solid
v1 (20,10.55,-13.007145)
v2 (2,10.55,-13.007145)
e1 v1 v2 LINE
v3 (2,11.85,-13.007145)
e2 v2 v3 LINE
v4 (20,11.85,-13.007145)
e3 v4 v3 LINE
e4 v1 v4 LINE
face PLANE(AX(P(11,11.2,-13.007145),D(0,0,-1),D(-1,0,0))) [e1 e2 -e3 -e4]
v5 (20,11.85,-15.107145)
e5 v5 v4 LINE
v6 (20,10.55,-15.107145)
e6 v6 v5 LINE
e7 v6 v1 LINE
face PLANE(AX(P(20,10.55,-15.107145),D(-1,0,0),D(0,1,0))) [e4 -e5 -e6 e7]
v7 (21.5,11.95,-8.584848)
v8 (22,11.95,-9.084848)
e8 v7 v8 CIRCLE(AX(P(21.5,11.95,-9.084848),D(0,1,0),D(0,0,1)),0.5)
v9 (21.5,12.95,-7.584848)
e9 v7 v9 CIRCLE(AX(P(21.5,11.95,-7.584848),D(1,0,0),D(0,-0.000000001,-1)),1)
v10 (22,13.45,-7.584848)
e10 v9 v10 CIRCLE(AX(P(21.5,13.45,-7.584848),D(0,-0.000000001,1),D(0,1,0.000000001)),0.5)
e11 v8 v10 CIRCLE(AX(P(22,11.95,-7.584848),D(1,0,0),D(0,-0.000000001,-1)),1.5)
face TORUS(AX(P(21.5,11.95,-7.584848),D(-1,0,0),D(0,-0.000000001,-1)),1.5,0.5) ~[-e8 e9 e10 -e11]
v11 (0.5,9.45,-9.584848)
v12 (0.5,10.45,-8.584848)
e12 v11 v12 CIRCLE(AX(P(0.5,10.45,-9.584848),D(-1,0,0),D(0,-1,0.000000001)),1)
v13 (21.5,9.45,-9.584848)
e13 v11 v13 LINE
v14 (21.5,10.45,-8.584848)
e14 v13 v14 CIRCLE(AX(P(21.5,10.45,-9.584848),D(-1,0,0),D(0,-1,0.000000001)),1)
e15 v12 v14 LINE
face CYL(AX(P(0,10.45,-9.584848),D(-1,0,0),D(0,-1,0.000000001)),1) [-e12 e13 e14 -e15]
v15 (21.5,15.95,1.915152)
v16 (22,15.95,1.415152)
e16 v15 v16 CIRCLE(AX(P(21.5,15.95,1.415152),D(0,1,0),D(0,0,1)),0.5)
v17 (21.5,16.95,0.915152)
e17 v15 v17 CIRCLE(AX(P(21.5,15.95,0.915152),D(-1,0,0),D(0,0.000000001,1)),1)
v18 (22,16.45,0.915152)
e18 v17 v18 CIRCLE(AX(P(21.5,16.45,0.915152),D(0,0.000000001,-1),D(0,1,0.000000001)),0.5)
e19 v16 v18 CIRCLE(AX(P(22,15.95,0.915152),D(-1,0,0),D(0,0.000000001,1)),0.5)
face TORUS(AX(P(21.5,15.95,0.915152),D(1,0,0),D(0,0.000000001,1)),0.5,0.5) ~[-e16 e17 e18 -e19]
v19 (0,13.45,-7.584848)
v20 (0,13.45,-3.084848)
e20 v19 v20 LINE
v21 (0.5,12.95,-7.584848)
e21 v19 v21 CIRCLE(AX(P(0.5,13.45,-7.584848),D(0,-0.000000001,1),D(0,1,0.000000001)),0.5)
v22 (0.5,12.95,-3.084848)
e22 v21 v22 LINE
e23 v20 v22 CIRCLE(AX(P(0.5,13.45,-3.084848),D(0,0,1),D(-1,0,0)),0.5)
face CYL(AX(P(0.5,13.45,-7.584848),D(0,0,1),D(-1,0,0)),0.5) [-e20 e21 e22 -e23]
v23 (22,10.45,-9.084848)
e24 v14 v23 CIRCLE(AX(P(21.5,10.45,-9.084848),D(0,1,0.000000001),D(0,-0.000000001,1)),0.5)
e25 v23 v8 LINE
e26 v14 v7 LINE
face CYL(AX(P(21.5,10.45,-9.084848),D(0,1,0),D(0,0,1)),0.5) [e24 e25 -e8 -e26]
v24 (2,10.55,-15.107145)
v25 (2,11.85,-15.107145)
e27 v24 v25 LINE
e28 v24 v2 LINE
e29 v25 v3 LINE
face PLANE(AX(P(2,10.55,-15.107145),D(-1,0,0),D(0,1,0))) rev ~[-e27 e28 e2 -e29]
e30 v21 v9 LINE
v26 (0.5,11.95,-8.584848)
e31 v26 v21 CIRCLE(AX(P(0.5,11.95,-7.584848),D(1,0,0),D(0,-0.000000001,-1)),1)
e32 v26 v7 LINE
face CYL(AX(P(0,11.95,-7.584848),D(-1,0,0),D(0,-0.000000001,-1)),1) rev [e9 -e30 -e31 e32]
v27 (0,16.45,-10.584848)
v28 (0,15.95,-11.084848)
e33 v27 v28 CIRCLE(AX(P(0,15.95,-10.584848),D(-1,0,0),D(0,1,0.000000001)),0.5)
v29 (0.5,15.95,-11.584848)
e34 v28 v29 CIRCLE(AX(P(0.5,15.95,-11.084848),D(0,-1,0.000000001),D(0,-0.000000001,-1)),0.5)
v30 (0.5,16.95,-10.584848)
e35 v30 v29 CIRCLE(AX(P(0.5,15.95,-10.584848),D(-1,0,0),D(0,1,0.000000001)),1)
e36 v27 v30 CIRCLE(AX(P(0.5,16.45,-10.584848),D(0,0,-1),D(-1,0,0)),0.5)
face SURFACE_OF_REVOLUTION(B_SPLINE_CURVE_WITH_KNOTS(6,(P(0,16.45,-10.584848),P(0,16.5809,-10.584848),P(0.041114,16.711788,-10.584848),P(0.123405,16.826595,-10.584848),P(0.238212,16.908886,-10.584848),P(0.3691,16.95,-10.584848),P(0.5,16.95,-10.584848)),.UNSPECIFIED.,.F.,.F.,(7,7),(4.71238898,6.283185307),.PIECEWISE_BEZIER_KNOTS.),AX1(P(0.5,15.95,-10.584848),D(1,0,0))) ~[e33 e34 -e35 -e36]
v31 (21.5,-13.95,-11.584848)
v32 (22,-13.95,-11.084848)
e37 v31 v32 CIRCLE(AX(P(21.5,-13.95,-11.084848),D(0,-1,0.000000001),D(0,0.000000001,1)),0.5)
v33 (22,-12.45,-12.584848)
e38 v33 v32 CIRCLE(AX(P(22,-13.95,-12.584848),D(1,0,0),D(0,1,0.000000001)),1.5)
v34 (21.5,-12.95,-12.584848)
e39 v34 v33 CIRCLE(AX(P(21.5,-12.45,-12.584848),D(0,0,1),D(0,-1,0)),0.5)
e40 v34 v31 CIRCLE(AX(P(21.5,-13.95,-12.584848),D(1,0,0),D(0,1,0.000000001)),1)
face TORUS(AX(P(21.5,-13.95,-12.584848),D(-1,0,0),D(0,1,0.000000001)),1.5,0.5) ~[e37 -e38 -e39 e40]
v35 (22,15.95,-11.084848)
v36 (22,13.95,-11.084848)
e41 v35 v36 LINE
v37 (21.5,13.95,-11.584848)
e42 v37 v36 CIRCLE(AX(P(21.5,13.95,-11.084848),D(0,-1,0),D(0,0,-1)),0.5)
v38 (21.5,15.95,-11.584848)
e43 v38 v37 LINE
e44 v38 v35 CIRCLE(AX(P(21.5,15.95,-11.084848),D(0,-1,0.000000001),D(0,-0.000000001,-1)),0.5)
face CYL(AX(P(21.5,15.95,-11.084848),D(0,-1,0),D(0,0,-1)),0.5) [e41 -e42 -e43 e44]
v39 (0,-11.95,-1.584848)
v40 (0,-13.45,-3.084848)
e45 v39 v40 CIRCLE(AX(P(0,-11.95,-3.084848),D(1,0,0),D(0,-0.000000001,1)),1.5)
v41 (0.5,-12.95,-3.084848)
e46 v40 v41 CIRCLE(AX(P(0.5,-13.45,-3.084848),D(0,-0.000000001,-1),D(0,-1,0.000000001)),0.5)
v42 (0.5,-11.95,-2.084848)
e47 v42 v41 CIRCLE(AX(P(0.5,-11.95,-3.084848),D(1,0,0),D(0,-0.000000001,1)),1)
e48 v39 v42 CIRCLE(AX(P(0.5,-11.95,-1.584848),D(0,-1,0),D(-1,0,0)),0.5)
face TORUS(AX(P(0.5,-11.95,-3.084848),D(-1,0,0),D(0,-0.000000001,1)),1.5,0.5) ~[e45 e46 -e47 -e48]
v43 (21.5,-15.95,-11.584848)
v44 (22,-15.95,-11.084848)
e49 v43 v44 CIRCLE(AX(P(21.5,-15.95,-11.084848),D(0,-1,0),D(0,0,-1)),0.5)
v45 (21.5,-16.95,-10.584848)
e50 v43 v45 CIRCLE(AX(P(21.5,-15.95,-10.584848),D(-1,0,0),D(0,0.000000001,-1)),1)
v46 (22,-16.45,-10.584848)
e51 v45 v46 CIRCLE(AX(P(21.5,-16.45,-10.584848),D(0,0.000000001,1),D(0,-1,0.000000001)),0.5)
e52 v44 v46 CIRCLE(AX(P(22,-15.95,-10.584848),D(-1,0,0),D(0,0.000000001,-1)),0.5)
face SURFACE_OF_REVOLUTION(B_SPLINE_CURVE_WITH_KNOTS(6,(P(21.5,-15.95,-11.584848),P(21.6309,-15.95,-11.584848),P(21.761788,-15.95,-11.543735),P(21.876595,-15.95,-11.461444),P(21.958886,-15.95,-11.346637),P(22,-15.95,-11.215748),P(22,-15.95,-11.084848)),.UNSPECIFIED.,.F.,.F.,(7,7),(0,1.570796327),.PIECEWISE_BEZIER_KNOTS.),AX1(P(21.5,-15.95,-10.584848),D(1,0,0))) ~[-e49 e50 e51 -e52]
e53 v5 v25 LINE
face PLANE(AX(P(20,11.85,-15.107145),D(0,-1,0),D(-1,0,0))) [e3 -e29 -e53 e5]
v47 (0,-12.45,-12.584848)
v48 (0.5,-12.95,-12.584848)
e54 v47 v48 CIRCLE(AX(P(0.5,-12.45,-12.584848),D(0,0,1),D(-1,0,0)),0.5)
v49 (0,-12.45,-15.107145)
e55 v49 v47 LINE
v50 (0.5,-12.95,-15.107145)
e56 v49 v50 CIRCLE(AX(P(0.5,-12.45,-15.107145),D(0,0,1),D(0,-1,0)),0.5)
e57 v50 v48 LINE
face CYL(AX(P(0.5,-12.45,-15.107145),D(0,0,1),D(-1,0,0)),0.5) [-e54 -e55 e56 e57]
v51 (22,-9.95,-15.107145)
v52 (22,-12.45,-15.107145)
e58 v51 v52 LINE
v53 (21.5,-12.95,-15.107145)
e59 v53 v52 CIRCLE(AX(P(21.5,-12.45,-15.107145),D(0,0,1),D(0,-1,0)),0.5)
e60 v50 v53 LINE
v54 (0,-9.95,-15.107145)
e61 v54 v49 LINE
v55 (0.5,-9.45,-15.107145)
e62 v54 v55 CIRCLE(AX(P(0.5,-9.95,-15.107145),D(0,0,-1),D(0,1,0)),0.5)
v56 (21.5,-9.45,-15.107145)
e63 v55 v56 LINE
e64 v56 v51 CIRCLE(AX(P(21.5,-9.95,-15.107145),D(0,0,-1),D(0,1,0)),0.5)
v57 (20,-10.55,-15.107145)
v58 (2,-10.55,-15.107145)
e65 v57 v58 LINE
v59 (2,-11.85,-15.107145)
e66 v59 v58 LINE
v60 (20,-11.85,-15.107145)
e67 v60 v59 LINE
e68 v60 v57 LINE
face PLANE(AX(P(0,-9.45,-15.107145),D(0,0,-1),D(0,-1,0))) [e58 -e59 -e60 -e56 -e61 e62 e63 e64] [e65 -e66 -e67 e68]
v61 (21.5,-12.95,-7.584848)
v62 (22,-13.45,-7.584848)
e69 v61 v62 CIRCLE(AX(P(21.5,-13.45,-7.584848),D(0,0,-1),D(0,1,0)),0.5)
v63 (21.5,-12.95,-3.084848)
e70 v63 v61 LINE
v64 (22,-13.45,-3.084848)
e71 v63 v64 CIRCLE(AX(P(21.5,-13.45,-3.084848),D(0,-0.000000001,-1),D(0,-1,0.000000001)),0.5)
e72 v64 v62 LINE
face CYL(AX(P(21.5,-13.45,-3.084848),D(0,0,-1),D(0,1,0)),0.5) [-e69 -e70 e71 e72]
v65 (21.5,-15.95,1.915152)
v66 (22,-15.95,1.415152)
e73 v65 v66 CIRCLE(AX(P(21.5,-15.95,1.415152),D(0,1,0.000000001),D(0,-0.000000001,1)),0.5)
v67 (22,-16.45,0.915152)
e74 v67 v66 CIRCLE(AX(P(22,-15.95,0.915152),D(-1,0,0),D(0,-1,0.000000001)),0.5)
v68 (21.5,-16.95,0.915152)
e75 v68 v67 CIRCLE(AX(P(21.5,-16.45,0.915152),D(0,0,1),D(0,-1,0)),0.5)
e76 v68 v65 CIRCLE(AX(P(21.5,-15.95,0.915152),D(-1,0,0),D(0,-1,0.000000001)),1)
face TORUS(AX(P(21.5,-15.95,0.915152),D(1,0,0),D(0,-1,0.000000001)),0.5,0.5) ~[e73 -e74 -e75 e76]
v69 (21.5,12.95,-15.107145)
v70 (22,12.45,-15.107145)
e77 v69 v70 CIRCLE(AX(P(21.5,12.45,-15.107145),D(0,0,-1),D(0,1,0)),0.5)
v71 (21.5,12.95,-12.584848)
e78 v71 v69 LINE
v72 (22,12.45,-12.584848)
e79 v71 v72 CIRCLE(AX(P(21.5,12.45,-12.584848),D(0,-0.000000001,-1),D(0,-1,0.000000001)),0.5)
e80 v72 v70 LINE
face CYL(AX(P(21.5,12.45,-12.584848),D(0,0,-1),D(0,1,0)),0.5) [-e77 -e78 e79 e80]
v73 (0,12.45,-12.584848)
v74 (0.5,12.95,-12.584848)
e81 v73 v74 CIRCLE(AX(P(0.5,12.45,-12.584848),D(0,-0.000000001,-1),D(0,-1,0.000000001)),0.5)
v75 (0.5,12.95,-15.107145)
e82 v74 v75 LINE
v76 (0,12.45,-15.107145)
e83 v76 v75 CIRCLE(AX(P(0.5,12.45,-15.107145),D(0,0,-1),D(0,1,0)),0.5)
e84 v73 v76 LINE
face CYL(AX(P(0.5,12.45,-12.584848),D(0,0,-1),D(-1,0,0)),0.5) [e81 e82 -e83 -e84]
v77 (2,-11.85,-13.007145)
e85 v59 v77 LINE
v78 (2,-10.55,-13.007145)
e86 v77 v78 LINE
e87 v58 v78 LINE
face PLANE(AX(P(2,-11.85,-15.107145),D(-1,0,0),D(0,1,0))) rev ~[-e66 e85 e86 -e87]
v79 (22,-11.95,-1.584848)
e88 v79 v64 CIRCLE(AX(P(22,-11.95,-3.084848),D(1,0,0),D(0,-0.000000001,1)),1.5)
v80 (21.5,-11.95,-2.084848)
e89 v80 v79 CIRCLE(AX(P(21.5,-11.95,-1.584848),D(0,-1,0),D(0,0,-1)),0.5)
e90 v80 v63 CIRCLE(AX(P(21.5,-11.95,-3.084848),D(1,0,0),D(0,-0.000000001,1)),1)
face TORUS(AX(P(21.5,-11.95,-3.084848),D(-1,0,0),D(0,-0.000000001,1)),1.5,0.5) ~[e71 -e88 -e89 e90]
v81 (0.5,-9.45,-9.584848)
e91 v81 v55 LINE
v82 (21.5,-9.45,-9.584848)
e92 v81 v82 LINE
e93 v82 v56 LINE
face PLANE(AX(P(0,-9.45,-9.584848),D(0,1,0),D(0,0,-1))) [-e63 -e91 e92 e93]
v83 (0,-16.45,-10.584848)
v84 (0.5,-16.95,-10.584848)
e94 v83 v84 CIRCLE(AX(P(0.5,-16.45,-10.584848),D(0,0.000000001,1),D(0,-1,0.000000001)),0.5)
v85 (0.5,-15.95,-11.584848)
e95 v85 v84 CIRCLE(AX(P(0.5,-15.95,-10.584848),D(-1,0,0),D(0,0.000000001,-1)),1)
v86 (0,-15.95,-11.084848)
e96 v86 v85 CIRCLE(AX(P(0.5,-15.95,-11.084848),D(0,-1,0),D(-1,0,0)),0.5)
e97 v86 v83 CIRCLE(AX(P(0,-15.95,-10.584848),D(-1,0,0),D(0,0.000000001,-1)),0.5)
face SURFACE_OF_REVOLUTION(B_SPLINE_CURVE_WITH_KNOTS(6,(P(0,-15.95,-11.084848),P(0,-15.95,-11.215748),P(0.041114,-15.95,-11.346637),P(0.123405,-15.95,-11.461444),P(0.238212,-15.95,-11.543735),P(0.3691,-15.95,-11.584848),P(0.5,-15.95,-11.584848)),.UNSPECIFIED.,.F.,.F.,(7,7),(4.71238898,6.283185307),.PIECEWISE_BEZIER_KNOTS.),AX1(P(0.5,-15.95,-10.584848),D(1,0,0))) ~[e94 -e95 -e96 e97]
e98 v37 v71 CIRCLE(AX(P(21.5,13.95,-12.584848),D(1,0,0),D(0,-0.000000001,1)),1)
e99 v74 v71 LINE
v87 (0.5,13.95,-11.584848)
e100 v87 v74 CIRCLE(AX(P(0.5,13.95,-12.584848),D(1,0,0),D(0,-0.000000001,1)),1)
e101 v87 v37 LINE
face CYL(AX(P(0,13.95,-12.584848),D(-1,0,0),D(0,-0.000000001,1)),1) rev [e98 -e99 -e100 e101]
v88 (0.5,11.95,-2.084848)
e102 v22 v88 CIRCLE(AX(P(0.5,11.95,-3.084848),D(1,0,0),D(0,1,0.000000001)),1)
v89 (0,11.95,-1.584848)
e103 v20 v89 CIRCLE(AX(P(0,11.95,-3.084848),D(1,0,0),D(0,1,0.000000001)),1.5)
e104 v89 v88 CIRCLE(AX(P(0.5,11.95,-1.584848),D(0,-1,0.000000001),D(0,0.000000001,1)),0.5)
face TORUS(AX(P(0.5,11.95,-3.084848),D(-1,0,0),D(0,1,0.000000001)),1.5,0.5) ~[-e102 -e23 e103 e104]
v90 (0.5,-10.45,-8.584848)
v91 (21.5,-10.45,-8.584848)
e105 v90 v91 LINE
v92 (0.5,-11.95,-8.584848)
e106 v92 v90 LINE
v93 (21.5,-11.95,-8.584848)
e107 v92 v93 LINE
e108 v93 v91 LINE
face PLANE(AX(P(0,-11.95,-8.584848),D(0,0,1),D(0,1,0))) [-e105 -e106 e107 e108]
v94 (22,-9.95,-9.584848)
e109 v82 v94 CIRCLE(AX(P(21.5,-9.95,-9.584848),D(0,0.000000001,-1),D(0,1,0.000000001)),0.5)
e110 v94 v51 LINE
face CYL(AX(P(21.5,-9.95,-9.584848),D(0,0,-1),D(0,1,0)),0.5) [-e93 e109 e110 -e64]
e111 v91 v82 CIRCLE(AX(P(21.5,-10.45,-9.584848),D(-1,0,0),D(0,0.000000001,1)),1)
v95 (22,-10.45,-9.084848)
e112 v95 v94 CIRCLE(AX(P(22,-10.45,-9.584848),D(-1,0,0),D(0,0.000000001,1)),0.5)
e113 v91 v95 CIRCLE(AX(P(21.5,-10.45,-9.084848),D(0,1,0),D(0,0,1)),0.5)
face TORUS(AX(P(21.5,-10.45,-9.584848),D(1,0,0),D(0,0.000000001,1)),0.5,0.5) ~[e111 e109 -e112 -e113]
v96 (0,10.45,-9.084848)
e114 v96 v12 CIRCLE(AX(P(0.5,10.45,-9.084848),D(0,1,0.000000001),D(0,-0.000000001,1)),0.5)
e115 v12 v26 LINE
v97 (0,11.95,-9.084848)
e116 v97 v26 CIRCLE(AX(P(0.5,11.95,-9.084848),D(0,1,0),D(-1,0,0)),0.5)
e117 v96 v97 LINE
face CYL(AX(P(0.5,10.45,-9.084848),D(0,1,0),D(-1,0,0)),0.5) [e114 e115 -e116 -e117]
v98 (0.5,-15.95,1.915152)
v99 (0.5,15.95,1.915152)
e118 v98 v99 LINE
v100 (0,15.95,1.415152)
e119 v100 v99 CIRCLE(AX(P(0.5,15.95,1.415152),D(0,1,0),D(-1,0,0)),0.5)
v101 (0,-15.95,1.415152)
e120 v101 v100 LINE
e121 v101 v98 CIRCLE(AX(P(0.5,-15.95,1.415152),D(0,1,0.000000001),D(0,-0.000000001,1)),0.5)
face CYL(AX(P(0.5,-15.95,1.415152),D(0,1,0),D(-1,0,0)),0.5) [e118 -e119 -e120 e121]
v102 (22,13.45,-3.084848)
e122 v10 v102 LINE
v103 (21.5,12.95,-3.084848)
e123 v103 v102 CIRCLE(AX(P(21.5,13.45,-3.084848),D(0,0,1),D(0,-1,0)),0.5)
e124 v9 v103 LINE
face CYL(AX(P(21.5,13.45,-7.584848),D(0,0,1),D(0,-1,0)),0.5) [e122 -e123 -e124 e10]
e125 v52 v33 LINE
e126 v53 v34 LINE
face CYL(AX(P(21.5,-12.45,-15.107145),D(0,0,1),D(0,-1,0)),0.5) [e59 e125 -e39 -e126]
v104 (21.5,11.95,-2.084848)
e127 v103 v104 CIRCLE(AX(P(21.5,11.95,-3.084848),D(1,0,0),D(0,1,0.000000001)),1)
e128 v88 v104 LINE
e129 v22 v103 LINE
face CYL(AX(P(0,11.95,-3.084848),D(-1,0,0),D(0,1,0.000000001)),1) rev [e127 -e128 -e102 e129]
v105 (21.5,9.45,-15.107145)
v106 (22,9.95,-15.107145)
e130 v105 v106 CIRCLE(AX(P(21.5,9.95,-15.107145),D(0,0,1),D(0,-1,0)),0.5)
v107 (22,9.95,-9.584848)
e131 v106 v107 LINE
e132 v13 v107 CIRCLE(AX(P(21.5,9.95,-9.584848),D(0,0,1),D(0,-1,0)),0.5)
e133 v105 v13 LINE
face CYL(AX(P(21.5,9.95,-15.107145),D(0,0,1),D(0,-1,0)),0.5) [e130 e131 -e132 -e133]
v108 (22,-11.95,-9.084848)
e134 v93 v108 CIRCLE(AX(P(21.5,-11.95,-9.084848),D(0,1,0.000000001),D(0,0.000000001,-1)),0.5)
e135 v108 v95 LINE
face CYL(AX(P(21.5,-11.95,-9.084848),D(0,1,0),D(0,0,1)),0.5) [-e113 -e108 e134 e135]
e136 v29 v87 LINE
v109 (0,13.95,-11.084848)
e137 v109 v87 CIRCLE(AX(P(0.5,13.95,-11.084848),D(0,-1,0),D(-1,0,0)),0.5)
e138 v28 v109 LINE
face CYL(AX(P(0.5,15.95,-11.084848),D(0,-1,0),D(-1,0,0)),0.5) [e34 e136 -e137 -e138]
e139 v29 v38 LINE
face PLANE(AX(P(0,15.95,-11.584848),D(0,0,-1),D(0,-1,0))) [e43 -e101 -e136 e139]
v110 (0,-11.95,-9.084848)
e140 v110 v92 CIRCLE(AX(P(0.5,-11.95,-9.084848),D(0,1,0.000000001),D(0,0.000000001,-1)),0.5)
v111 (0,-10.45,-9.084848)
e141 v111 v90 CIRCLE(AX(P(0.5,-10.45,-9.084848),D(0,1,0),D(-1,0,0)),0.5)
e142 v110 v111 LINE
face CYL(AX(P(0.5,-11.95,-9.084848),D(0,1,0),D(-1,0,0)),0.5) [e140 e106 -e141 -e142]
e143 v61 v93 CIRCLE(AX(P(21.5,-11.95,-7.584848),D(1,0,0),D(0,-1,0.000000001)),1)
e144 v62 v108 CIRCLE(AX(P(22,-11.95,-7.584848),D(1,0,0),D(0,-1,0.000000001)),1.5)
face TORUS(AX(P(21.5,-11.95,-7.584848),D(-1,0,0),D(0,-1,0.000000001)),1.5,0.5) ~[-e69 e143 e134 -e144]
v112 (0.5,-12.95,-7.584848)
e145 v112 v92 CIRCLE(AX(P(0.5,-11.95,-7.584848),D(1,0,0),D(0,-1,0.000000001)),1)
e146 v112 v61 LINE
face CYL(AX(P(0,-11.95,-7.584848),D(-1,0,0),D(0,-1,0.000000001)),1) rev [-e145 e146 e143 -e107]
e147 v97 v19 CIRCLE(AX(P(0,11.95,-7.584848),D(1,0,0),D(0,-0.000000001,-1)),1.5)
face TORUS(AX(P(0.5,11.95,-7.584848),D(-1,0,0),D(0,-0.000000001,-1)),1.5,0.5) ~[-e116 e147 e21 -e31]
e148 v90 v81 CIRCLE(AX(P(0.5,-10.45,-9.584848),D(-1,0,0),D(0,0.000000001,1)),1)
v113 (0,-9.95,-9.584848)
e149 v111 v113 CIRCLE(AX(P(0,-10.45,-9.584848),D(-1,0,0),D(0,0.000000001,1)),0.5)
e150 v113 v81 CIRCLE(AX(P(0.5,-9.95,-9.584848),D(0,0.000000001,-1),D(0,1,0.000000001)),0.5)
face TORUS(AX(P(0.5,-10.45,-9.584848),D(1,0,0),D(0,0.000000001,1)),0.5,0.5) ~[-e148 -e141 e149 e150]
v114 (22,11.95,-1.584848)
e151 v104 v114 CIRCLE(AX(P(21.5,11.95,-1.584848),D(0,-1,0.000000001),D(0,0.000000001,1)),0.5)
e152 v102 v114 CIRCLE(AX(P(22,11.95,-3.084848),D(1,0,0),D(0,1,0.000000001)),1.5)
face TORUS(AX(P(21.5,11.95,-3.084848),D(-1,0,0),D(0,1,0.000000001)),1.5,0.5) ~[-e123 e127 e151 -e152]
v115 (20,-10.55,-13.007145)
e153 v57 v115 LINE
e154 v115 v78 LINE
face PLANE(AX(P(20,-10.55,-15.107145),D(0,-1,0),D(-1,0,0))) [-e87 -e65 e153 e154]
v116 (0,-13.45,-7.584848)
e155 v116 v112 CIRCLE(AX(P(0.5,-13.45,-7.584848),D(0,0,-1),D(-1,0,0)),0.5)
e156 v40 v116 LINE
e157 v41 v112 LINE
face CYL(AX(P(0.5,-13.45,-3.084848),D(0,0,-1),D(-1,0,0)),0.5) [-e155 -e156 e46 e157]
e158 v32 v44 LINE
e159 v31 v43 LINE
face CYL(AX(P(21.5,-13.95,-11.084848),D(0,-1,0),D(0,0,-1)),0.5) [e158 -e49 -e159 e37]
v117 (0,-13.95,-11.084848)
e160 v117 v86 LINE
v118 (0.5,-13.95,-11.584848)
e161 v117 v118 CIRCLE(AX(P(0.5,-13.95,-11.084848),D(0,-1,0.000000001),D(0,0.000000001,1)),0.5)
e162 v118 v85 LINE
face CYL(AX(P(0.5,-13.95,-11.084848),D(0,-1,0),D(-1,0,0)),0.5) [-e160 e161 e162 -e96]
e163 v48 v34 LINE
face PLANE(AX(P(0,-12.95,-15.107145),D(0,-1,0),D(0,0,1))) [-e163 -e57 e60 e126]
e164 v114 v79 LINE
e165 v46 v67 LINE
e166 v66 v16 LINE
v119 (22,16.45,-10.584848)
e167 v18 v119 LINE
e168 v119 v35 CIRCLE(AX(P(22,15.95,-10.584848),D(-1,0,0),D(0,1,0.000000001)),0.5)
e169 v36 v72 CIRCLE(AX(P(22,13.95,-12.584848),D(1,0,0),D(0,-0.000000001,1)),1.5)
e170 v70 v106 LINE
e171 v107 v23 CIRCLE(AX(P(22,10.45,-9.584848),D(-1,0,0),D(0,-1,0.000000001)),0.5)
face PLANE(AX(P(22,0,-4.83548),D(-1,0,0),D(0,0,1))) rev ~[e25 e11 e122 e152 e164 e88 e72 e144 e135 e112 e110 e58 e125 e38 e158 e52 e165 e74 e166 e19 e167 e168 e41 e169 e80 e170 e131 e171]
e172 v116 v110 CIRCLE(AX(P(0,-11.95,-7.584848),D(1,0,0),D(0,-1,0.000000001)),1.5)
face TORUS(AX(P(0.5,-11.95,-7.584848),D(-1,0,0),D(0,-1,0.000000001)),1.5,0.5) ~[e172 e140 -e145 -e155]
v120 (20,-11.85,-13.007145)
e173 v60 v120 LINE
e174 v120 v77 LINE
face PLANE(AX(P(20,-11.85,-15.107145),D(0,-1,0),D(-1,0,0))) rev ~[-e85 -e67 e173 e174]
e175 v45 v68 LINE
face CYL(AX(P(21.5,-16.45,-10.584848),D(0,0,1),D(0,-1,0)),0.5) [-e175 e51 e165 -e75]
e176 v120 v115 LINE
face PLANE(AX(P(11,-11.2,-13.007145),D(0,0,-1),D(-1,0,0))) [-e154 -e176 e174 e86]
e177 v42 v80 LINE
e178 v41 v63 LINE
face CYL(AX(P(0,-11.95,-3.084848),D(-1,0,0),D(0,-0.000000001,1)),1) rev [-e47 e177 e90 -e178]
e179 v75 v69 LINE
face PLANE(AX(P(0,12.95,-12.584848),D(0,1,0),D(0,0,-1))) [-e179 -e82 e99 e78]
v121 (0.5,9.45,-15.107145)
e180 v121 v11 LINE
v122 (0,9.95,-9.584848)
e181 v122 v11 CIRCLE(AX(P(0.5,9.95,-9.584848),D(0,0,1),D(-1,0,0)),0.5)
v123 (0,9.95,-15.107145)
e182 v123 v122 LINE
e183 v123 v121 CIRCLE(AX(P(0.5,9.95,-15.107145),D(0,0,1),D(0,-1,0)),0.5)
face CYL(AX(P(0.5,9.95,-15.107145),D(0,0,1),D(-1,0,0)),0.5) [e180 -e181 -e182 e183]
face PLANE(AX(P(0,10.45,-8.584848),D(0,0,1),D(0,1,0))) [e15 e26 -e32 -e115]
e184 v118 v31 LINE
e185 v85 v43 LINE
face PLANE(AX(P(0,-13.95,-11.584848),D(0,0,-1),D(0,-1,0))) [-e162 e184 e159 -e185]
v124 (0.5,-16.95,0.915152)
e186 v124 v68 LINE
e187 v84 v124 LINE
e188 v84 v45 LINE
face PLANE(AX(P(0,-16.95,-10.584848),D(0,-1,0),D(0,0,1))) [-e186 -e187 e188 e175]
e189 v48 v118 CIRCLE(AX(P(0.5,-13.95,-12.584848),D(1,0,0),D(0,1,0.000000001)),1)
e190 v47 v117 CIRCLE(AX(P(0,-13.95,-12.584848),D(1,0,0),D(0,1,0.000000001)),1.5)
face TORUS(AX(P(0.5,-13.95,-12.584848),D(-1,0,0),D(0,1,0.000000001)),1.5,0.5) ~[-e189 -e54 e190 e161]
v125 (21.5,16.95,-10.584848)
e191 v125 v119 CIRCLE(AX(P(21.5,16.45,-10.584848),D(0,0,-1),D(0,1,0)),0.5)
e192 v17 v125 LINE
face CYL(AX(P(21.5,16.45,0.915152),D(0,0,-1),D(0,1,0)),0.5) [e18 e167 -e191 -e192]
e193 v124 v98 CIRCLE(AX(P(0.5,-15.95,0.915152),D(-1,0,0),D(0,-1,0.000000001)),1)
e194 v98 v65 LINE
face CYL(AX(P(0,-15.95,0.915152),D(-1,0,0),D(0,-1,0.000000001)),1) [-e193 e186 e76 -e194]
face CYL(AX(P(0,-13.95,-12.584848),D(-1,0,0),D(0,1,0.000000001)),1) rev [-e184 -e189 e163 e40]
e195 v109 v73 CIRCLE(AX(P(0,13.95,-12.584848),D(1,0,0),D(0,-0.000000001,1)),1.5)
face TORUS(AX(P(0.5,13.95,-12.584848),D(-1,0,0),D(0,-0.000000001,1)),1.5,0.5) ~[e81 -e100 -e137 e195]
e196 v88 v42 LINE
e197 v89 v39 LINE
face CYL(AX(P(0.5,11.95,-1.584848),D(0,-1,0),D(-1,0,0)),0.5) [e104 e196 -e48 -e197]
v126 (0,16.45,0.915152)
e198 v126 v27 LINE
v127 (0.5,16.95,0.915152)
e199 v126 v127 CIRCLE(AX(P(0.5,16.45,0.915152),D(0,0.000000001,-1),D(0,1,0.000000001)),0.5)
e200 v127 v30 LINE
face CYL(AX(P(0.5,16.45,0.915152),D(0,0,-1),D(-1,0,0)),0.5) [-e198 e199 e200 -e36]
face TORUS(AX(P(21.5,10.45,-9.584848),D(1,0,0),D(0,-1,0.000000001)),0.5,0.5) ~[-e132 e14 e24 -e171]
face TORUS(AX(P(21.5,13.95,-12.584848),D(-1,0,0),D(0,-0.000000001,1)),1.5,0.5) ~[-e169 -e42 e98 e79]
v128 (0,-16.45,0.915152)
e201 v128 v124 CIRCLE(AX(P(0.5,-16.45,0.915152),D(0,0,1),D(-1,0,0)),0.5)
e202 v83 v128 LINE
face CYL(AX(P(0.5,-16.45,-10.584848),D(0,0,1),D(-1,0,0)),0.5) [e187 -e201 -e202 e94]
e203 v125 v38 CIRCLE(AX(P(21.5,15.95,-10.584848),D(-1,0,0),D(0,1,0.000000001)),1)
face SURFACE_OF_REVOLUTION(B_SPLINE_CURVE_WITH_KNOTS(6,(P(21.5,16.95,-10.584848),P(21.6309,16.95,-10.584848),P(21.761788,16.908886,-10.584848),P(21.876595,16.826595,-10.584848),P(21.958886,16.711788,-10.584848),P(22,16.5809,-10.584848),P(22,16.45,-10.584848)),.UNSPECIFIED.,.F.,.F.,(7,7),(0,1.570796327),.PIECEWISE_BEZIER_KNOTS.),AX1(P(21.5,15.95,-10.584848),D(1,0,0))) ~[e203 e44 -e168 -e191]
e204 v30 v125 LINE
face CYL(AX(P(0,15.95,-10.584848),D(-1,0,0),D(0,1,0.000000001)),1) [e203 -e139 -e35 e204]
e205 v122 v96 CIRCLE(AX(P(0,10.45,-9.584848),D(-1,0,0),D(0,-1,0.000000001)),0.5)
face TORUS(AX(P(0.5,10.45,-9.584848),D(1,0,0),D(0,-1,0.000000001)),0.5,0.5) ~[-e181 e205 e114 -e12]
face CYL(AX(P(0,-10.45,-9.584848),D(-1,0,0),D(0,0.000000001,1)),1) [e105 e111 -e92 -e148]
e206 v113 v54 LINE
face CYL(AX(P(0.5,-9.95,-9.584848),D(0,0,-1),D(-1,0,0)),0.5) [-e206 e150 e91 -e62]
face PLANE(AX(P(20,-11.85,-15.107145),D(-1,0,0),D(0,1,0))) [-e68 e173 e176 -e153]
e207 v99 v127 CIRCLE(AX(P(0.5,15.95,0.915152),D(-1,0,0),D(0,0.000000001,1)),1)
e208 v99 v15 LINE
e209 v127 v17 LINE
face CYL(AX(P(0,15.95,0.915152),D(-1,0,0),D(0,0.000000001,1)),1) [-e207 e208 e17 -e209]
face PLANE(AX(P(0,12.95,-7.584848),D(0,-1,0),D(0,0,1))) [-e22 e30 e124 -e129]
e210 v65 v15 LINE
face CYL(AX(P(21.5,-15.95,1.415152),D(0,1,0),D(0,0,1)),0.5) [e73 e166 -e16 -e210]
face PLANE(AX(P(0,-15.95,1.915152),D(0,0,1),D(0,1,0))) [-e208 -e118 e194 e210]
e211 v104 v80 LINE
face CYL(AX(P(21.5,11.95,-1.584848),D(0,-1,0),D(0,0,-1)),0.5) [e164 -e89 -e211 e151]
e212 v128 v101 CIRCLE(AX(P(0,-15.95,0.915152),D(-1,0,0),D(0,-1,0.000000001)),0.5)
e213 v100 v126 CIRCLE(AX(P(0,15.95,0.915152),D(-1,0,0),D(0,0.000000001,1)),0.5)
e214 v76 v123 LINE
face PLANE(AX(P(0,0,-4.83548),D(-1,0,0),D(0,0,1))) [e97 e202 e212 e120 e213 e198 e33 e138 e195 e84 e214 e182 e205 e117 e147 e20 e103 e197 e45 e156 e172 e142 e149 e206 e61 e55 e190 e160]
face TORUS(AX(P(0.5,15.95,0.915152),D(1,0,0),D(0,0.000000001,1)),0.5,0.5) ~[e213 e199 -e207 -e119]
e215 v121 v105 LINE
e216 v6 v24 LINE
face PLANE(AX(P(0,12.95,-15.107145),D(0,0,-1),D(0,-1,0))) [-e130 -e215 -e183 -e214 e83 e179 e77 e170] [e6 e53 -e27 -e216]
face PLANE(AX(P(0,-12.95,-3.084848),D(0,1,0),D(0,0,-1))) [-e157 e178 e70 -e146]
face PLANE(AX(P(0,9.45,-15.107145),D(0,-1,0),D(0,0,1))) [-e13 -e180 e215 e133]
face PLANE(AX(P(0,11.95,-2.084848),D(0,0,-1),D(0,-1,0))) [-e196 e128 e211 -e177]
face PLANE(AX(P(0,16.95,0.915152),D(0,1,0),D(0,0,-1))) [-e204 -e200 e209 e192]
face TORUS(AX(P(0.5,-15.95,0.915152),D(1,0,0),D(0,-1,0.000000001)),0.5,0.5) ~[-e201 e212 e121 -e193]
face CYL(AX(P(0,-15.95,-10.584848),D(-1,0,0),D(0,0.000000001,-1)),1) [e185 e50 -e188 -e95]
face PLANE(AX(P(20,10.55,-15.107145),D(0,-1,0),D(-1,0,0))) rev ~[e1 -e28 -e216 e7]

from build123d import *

# Parameters (mm, degrees)
BOSS_EXTRUDE1_DEPTH = 22
FILLET1_R           = 0.5
FILLET2_R           = 0.5
SKETCH11_W          = 18
SKETCH11_H          = 1.3
CUT_EXTRUDE1_DEPTH  = 2.1


with BuildPart() as part:
    # Sketch1 → Boss-Extrude1 (new body)
    with BuildSketch(Plane(origin=(0, 0, 0), x_dir=(0, 0, -1), z_dir=(1, 0, 0))):
        with BuildLine():
            Line((2.084848456, 11.95), (2.084848456, -11.95))
            ThreePointArc((2.084848456, -11.95), (2.377741675, -12.657106781), (3.084848456, -12.95))
            Line((3.084848456, -12.95), (7.584848456, -12.95))
            ThreePointArc((7.584848456, -12.95), (8.291955238, -12.657106781), (8.584848456, -11.95))
            Line((8.584848456, -11.95), (8.584848456, -10.45))
            ThreePointArc((8.584848456, -10.45), (8.877741675, -9.742893219), (9.584848456, -9.45))
            Line((9.584848456, -9.45), (15.107145496, -9.45))
            Line((15.107145496, -9.45), (15.107145496, -12.95))
            Line((15.107145496, -12.95), (12.584848456, -12.95))
            ThreePointArc((12.584848456, -12.95), (11.877741675, -13.242893219), (11.584848456, -13.95))
            Line((11.584848456, -13.95), (11.584848456, -15.95))
            ThreePointArc((11.584848456, -15.95), (11.291955238, -16.657106781), (10.584848456, -16.95))
            Line((10.584848456, -16.95), (0, -16.95))
            Line((0, -16.95), (-0.915151544, -16.95))
            ThreePointArc((-0.915151544, -16.95), (-1.622258325, -16.657106781), (-1.915151544, -15.95))
            Line((-1.915151544, -15.95), (-1.915151544, 15.95))
            ThreePointArc((-1.915151544, 15.95), (-1.622258325, 16.657106781), (-0.915151544, 16.95))
            Line((-0.915151544, 16.95), (0, 16.95))
            Line((0, 16.95), (10.584848456, 16.95))
            ThreePointArc((10.584848456, 16.95), (11.291955238, 16.657106781), (11.584848456, 15.95))
            Line((11.584848456, 15.95), (11.584848456, 13.95))
            ThreePointArc((11.584848456, 13.95), (11.877741675, 13.242893219), (12.584848456, 12.95))
            Line((12.584848456, 12.95), (15.107145496, 12.95))
            Line((15.107145496, 12.95), (15.107145496, 9.45))
            Line((15.107145496, 9.45), (9.584848456, 9.45))
            ThreePointArc((9.584848456, 9.45), (8.877741675, 9.742893219), (8.584848456, 10.45))
            Line((8.584848456, 10.45), (8.584848456, 11.95))
            ThreePointArc((8.584848456, 11.95), (8.291955238, 12.657106781), (7.584848456, 12.95))
            Line((7.584848456, 12.95), (3.084848456, 12.95))
            ThreePointArc((3.084848456, 12.95), (2.377741675, 12.657106781), (2.084848456, 11.95))
        make_face()
    extrude(amount=BOSS_EXTRUDE1_DEPTH)

    # Fillet1
    fillet1_edges = [part.edges().sort_by_distance(p)[0] for p in [
        (22, 13.242893219, -11.877741675),
        (22, 14.95, -11.584848456),
        (22, 16.657106781, -11.291955238),
        (22, 16.95, -4.834848456),
        (22, 16.657106781, 1.622258325),
        (22, 0, 1.915151544),
        (22, -16.657106781, 1.622258325),
        (22, -16.95, -4.834848456),
        (22, -16.657106781, -11.291955238),
        (22, -14.95, -11.584848456),
        (22, -13.242893219, -11.877741675),
        (22, -12.95, -13.845996976),
        (22, -9.45, -12.345996976),
        (22, -9.742893219, -8.877741675),
        (22, -11.2, -8.584848456),
        (22, -12.657106781, -8.291955238),
        (22, -12.95, -5.334848456),
        (22, 12.95, -13.845996976),
        (22, -12.657106781, -2.377741675),
        (22, 0, -2.084848456),
        (22, 12.657106781, -2.377741675),
        (22, 12.95, -5.334848456),
        (22, 12.657106781, -8.291955238),
        (22, 11.2, -8.584848456),
        (22, 9.742893219, -8.877741675),
        (22, 9.45, -12.345996976),
    ]]
    fillet(fillet1_edges, radius=FILLET1_R)

    # Fillet2
    fillet2_edges = [part.edges().sort_by_distance(p)[0] for p in [
        (0, 9.45, -12.345996976),
        (0, 9.742893219, -8.877741675),
        (0, 11.2, -8.584848456),
        (0, 12.657106781, -8.291955238),
        (0, 12.95, -5.334848456),
        (0, 12.657106781, -2.377741675),
        (0, 0, -2.084848456),
        (0, -12.657106781, -2.377741675),
        (0, -12.95, -5.334848456),
        (0, -12.657106781, -8.291955238),
        (0, -11.2, -8.584848456),
        (0, -9.742893219, -8.877741675),
        (0, -9.45, -12.345996976),
        (0, -12.95, -13.845996976),
        (0, -13.242893219, -11.877741675),
        (0, -14.95, -11.584848456),
        (0, -16.657106781, -11.291955238),
        (0, -16.95, -4.834848456),
        (0, -16.657106781, 1.622258325),
        (0, 0, 1.915151544),
        (0, 16.657106781, 1.622258325),
        (0, 16.95, -4.834848456),
        (0, 16.657106781, -11.291955238),
        (0, 14.95, -11.584848456),
        (0, 13.242893219, -11.877741675),
        (0, 12.95, -13.845996976),
    ]]
    fillet(fillet2_edges, radius=FILLET2_R)

    # Sketch11 → Cut-Extrude1 (cut)
    with BuildSketch(Plane(origin=(0, 0, -15.107145496), x_dir=(-1, 0, 0), z_dir=(0, 0, -1))):
        with Locations((-11, 11.2)):
            Rectangle(SKETCH11_W, SKETCH11_H)
        with Locations((-11, -11.2)):
            Rectangle(SKETCH11_W, SKETCH11_H)
    extrude(amount=-CUT_EXTRUDE1_DEPTH, mode=Mode.SUBTRACT)


solid = part.part
